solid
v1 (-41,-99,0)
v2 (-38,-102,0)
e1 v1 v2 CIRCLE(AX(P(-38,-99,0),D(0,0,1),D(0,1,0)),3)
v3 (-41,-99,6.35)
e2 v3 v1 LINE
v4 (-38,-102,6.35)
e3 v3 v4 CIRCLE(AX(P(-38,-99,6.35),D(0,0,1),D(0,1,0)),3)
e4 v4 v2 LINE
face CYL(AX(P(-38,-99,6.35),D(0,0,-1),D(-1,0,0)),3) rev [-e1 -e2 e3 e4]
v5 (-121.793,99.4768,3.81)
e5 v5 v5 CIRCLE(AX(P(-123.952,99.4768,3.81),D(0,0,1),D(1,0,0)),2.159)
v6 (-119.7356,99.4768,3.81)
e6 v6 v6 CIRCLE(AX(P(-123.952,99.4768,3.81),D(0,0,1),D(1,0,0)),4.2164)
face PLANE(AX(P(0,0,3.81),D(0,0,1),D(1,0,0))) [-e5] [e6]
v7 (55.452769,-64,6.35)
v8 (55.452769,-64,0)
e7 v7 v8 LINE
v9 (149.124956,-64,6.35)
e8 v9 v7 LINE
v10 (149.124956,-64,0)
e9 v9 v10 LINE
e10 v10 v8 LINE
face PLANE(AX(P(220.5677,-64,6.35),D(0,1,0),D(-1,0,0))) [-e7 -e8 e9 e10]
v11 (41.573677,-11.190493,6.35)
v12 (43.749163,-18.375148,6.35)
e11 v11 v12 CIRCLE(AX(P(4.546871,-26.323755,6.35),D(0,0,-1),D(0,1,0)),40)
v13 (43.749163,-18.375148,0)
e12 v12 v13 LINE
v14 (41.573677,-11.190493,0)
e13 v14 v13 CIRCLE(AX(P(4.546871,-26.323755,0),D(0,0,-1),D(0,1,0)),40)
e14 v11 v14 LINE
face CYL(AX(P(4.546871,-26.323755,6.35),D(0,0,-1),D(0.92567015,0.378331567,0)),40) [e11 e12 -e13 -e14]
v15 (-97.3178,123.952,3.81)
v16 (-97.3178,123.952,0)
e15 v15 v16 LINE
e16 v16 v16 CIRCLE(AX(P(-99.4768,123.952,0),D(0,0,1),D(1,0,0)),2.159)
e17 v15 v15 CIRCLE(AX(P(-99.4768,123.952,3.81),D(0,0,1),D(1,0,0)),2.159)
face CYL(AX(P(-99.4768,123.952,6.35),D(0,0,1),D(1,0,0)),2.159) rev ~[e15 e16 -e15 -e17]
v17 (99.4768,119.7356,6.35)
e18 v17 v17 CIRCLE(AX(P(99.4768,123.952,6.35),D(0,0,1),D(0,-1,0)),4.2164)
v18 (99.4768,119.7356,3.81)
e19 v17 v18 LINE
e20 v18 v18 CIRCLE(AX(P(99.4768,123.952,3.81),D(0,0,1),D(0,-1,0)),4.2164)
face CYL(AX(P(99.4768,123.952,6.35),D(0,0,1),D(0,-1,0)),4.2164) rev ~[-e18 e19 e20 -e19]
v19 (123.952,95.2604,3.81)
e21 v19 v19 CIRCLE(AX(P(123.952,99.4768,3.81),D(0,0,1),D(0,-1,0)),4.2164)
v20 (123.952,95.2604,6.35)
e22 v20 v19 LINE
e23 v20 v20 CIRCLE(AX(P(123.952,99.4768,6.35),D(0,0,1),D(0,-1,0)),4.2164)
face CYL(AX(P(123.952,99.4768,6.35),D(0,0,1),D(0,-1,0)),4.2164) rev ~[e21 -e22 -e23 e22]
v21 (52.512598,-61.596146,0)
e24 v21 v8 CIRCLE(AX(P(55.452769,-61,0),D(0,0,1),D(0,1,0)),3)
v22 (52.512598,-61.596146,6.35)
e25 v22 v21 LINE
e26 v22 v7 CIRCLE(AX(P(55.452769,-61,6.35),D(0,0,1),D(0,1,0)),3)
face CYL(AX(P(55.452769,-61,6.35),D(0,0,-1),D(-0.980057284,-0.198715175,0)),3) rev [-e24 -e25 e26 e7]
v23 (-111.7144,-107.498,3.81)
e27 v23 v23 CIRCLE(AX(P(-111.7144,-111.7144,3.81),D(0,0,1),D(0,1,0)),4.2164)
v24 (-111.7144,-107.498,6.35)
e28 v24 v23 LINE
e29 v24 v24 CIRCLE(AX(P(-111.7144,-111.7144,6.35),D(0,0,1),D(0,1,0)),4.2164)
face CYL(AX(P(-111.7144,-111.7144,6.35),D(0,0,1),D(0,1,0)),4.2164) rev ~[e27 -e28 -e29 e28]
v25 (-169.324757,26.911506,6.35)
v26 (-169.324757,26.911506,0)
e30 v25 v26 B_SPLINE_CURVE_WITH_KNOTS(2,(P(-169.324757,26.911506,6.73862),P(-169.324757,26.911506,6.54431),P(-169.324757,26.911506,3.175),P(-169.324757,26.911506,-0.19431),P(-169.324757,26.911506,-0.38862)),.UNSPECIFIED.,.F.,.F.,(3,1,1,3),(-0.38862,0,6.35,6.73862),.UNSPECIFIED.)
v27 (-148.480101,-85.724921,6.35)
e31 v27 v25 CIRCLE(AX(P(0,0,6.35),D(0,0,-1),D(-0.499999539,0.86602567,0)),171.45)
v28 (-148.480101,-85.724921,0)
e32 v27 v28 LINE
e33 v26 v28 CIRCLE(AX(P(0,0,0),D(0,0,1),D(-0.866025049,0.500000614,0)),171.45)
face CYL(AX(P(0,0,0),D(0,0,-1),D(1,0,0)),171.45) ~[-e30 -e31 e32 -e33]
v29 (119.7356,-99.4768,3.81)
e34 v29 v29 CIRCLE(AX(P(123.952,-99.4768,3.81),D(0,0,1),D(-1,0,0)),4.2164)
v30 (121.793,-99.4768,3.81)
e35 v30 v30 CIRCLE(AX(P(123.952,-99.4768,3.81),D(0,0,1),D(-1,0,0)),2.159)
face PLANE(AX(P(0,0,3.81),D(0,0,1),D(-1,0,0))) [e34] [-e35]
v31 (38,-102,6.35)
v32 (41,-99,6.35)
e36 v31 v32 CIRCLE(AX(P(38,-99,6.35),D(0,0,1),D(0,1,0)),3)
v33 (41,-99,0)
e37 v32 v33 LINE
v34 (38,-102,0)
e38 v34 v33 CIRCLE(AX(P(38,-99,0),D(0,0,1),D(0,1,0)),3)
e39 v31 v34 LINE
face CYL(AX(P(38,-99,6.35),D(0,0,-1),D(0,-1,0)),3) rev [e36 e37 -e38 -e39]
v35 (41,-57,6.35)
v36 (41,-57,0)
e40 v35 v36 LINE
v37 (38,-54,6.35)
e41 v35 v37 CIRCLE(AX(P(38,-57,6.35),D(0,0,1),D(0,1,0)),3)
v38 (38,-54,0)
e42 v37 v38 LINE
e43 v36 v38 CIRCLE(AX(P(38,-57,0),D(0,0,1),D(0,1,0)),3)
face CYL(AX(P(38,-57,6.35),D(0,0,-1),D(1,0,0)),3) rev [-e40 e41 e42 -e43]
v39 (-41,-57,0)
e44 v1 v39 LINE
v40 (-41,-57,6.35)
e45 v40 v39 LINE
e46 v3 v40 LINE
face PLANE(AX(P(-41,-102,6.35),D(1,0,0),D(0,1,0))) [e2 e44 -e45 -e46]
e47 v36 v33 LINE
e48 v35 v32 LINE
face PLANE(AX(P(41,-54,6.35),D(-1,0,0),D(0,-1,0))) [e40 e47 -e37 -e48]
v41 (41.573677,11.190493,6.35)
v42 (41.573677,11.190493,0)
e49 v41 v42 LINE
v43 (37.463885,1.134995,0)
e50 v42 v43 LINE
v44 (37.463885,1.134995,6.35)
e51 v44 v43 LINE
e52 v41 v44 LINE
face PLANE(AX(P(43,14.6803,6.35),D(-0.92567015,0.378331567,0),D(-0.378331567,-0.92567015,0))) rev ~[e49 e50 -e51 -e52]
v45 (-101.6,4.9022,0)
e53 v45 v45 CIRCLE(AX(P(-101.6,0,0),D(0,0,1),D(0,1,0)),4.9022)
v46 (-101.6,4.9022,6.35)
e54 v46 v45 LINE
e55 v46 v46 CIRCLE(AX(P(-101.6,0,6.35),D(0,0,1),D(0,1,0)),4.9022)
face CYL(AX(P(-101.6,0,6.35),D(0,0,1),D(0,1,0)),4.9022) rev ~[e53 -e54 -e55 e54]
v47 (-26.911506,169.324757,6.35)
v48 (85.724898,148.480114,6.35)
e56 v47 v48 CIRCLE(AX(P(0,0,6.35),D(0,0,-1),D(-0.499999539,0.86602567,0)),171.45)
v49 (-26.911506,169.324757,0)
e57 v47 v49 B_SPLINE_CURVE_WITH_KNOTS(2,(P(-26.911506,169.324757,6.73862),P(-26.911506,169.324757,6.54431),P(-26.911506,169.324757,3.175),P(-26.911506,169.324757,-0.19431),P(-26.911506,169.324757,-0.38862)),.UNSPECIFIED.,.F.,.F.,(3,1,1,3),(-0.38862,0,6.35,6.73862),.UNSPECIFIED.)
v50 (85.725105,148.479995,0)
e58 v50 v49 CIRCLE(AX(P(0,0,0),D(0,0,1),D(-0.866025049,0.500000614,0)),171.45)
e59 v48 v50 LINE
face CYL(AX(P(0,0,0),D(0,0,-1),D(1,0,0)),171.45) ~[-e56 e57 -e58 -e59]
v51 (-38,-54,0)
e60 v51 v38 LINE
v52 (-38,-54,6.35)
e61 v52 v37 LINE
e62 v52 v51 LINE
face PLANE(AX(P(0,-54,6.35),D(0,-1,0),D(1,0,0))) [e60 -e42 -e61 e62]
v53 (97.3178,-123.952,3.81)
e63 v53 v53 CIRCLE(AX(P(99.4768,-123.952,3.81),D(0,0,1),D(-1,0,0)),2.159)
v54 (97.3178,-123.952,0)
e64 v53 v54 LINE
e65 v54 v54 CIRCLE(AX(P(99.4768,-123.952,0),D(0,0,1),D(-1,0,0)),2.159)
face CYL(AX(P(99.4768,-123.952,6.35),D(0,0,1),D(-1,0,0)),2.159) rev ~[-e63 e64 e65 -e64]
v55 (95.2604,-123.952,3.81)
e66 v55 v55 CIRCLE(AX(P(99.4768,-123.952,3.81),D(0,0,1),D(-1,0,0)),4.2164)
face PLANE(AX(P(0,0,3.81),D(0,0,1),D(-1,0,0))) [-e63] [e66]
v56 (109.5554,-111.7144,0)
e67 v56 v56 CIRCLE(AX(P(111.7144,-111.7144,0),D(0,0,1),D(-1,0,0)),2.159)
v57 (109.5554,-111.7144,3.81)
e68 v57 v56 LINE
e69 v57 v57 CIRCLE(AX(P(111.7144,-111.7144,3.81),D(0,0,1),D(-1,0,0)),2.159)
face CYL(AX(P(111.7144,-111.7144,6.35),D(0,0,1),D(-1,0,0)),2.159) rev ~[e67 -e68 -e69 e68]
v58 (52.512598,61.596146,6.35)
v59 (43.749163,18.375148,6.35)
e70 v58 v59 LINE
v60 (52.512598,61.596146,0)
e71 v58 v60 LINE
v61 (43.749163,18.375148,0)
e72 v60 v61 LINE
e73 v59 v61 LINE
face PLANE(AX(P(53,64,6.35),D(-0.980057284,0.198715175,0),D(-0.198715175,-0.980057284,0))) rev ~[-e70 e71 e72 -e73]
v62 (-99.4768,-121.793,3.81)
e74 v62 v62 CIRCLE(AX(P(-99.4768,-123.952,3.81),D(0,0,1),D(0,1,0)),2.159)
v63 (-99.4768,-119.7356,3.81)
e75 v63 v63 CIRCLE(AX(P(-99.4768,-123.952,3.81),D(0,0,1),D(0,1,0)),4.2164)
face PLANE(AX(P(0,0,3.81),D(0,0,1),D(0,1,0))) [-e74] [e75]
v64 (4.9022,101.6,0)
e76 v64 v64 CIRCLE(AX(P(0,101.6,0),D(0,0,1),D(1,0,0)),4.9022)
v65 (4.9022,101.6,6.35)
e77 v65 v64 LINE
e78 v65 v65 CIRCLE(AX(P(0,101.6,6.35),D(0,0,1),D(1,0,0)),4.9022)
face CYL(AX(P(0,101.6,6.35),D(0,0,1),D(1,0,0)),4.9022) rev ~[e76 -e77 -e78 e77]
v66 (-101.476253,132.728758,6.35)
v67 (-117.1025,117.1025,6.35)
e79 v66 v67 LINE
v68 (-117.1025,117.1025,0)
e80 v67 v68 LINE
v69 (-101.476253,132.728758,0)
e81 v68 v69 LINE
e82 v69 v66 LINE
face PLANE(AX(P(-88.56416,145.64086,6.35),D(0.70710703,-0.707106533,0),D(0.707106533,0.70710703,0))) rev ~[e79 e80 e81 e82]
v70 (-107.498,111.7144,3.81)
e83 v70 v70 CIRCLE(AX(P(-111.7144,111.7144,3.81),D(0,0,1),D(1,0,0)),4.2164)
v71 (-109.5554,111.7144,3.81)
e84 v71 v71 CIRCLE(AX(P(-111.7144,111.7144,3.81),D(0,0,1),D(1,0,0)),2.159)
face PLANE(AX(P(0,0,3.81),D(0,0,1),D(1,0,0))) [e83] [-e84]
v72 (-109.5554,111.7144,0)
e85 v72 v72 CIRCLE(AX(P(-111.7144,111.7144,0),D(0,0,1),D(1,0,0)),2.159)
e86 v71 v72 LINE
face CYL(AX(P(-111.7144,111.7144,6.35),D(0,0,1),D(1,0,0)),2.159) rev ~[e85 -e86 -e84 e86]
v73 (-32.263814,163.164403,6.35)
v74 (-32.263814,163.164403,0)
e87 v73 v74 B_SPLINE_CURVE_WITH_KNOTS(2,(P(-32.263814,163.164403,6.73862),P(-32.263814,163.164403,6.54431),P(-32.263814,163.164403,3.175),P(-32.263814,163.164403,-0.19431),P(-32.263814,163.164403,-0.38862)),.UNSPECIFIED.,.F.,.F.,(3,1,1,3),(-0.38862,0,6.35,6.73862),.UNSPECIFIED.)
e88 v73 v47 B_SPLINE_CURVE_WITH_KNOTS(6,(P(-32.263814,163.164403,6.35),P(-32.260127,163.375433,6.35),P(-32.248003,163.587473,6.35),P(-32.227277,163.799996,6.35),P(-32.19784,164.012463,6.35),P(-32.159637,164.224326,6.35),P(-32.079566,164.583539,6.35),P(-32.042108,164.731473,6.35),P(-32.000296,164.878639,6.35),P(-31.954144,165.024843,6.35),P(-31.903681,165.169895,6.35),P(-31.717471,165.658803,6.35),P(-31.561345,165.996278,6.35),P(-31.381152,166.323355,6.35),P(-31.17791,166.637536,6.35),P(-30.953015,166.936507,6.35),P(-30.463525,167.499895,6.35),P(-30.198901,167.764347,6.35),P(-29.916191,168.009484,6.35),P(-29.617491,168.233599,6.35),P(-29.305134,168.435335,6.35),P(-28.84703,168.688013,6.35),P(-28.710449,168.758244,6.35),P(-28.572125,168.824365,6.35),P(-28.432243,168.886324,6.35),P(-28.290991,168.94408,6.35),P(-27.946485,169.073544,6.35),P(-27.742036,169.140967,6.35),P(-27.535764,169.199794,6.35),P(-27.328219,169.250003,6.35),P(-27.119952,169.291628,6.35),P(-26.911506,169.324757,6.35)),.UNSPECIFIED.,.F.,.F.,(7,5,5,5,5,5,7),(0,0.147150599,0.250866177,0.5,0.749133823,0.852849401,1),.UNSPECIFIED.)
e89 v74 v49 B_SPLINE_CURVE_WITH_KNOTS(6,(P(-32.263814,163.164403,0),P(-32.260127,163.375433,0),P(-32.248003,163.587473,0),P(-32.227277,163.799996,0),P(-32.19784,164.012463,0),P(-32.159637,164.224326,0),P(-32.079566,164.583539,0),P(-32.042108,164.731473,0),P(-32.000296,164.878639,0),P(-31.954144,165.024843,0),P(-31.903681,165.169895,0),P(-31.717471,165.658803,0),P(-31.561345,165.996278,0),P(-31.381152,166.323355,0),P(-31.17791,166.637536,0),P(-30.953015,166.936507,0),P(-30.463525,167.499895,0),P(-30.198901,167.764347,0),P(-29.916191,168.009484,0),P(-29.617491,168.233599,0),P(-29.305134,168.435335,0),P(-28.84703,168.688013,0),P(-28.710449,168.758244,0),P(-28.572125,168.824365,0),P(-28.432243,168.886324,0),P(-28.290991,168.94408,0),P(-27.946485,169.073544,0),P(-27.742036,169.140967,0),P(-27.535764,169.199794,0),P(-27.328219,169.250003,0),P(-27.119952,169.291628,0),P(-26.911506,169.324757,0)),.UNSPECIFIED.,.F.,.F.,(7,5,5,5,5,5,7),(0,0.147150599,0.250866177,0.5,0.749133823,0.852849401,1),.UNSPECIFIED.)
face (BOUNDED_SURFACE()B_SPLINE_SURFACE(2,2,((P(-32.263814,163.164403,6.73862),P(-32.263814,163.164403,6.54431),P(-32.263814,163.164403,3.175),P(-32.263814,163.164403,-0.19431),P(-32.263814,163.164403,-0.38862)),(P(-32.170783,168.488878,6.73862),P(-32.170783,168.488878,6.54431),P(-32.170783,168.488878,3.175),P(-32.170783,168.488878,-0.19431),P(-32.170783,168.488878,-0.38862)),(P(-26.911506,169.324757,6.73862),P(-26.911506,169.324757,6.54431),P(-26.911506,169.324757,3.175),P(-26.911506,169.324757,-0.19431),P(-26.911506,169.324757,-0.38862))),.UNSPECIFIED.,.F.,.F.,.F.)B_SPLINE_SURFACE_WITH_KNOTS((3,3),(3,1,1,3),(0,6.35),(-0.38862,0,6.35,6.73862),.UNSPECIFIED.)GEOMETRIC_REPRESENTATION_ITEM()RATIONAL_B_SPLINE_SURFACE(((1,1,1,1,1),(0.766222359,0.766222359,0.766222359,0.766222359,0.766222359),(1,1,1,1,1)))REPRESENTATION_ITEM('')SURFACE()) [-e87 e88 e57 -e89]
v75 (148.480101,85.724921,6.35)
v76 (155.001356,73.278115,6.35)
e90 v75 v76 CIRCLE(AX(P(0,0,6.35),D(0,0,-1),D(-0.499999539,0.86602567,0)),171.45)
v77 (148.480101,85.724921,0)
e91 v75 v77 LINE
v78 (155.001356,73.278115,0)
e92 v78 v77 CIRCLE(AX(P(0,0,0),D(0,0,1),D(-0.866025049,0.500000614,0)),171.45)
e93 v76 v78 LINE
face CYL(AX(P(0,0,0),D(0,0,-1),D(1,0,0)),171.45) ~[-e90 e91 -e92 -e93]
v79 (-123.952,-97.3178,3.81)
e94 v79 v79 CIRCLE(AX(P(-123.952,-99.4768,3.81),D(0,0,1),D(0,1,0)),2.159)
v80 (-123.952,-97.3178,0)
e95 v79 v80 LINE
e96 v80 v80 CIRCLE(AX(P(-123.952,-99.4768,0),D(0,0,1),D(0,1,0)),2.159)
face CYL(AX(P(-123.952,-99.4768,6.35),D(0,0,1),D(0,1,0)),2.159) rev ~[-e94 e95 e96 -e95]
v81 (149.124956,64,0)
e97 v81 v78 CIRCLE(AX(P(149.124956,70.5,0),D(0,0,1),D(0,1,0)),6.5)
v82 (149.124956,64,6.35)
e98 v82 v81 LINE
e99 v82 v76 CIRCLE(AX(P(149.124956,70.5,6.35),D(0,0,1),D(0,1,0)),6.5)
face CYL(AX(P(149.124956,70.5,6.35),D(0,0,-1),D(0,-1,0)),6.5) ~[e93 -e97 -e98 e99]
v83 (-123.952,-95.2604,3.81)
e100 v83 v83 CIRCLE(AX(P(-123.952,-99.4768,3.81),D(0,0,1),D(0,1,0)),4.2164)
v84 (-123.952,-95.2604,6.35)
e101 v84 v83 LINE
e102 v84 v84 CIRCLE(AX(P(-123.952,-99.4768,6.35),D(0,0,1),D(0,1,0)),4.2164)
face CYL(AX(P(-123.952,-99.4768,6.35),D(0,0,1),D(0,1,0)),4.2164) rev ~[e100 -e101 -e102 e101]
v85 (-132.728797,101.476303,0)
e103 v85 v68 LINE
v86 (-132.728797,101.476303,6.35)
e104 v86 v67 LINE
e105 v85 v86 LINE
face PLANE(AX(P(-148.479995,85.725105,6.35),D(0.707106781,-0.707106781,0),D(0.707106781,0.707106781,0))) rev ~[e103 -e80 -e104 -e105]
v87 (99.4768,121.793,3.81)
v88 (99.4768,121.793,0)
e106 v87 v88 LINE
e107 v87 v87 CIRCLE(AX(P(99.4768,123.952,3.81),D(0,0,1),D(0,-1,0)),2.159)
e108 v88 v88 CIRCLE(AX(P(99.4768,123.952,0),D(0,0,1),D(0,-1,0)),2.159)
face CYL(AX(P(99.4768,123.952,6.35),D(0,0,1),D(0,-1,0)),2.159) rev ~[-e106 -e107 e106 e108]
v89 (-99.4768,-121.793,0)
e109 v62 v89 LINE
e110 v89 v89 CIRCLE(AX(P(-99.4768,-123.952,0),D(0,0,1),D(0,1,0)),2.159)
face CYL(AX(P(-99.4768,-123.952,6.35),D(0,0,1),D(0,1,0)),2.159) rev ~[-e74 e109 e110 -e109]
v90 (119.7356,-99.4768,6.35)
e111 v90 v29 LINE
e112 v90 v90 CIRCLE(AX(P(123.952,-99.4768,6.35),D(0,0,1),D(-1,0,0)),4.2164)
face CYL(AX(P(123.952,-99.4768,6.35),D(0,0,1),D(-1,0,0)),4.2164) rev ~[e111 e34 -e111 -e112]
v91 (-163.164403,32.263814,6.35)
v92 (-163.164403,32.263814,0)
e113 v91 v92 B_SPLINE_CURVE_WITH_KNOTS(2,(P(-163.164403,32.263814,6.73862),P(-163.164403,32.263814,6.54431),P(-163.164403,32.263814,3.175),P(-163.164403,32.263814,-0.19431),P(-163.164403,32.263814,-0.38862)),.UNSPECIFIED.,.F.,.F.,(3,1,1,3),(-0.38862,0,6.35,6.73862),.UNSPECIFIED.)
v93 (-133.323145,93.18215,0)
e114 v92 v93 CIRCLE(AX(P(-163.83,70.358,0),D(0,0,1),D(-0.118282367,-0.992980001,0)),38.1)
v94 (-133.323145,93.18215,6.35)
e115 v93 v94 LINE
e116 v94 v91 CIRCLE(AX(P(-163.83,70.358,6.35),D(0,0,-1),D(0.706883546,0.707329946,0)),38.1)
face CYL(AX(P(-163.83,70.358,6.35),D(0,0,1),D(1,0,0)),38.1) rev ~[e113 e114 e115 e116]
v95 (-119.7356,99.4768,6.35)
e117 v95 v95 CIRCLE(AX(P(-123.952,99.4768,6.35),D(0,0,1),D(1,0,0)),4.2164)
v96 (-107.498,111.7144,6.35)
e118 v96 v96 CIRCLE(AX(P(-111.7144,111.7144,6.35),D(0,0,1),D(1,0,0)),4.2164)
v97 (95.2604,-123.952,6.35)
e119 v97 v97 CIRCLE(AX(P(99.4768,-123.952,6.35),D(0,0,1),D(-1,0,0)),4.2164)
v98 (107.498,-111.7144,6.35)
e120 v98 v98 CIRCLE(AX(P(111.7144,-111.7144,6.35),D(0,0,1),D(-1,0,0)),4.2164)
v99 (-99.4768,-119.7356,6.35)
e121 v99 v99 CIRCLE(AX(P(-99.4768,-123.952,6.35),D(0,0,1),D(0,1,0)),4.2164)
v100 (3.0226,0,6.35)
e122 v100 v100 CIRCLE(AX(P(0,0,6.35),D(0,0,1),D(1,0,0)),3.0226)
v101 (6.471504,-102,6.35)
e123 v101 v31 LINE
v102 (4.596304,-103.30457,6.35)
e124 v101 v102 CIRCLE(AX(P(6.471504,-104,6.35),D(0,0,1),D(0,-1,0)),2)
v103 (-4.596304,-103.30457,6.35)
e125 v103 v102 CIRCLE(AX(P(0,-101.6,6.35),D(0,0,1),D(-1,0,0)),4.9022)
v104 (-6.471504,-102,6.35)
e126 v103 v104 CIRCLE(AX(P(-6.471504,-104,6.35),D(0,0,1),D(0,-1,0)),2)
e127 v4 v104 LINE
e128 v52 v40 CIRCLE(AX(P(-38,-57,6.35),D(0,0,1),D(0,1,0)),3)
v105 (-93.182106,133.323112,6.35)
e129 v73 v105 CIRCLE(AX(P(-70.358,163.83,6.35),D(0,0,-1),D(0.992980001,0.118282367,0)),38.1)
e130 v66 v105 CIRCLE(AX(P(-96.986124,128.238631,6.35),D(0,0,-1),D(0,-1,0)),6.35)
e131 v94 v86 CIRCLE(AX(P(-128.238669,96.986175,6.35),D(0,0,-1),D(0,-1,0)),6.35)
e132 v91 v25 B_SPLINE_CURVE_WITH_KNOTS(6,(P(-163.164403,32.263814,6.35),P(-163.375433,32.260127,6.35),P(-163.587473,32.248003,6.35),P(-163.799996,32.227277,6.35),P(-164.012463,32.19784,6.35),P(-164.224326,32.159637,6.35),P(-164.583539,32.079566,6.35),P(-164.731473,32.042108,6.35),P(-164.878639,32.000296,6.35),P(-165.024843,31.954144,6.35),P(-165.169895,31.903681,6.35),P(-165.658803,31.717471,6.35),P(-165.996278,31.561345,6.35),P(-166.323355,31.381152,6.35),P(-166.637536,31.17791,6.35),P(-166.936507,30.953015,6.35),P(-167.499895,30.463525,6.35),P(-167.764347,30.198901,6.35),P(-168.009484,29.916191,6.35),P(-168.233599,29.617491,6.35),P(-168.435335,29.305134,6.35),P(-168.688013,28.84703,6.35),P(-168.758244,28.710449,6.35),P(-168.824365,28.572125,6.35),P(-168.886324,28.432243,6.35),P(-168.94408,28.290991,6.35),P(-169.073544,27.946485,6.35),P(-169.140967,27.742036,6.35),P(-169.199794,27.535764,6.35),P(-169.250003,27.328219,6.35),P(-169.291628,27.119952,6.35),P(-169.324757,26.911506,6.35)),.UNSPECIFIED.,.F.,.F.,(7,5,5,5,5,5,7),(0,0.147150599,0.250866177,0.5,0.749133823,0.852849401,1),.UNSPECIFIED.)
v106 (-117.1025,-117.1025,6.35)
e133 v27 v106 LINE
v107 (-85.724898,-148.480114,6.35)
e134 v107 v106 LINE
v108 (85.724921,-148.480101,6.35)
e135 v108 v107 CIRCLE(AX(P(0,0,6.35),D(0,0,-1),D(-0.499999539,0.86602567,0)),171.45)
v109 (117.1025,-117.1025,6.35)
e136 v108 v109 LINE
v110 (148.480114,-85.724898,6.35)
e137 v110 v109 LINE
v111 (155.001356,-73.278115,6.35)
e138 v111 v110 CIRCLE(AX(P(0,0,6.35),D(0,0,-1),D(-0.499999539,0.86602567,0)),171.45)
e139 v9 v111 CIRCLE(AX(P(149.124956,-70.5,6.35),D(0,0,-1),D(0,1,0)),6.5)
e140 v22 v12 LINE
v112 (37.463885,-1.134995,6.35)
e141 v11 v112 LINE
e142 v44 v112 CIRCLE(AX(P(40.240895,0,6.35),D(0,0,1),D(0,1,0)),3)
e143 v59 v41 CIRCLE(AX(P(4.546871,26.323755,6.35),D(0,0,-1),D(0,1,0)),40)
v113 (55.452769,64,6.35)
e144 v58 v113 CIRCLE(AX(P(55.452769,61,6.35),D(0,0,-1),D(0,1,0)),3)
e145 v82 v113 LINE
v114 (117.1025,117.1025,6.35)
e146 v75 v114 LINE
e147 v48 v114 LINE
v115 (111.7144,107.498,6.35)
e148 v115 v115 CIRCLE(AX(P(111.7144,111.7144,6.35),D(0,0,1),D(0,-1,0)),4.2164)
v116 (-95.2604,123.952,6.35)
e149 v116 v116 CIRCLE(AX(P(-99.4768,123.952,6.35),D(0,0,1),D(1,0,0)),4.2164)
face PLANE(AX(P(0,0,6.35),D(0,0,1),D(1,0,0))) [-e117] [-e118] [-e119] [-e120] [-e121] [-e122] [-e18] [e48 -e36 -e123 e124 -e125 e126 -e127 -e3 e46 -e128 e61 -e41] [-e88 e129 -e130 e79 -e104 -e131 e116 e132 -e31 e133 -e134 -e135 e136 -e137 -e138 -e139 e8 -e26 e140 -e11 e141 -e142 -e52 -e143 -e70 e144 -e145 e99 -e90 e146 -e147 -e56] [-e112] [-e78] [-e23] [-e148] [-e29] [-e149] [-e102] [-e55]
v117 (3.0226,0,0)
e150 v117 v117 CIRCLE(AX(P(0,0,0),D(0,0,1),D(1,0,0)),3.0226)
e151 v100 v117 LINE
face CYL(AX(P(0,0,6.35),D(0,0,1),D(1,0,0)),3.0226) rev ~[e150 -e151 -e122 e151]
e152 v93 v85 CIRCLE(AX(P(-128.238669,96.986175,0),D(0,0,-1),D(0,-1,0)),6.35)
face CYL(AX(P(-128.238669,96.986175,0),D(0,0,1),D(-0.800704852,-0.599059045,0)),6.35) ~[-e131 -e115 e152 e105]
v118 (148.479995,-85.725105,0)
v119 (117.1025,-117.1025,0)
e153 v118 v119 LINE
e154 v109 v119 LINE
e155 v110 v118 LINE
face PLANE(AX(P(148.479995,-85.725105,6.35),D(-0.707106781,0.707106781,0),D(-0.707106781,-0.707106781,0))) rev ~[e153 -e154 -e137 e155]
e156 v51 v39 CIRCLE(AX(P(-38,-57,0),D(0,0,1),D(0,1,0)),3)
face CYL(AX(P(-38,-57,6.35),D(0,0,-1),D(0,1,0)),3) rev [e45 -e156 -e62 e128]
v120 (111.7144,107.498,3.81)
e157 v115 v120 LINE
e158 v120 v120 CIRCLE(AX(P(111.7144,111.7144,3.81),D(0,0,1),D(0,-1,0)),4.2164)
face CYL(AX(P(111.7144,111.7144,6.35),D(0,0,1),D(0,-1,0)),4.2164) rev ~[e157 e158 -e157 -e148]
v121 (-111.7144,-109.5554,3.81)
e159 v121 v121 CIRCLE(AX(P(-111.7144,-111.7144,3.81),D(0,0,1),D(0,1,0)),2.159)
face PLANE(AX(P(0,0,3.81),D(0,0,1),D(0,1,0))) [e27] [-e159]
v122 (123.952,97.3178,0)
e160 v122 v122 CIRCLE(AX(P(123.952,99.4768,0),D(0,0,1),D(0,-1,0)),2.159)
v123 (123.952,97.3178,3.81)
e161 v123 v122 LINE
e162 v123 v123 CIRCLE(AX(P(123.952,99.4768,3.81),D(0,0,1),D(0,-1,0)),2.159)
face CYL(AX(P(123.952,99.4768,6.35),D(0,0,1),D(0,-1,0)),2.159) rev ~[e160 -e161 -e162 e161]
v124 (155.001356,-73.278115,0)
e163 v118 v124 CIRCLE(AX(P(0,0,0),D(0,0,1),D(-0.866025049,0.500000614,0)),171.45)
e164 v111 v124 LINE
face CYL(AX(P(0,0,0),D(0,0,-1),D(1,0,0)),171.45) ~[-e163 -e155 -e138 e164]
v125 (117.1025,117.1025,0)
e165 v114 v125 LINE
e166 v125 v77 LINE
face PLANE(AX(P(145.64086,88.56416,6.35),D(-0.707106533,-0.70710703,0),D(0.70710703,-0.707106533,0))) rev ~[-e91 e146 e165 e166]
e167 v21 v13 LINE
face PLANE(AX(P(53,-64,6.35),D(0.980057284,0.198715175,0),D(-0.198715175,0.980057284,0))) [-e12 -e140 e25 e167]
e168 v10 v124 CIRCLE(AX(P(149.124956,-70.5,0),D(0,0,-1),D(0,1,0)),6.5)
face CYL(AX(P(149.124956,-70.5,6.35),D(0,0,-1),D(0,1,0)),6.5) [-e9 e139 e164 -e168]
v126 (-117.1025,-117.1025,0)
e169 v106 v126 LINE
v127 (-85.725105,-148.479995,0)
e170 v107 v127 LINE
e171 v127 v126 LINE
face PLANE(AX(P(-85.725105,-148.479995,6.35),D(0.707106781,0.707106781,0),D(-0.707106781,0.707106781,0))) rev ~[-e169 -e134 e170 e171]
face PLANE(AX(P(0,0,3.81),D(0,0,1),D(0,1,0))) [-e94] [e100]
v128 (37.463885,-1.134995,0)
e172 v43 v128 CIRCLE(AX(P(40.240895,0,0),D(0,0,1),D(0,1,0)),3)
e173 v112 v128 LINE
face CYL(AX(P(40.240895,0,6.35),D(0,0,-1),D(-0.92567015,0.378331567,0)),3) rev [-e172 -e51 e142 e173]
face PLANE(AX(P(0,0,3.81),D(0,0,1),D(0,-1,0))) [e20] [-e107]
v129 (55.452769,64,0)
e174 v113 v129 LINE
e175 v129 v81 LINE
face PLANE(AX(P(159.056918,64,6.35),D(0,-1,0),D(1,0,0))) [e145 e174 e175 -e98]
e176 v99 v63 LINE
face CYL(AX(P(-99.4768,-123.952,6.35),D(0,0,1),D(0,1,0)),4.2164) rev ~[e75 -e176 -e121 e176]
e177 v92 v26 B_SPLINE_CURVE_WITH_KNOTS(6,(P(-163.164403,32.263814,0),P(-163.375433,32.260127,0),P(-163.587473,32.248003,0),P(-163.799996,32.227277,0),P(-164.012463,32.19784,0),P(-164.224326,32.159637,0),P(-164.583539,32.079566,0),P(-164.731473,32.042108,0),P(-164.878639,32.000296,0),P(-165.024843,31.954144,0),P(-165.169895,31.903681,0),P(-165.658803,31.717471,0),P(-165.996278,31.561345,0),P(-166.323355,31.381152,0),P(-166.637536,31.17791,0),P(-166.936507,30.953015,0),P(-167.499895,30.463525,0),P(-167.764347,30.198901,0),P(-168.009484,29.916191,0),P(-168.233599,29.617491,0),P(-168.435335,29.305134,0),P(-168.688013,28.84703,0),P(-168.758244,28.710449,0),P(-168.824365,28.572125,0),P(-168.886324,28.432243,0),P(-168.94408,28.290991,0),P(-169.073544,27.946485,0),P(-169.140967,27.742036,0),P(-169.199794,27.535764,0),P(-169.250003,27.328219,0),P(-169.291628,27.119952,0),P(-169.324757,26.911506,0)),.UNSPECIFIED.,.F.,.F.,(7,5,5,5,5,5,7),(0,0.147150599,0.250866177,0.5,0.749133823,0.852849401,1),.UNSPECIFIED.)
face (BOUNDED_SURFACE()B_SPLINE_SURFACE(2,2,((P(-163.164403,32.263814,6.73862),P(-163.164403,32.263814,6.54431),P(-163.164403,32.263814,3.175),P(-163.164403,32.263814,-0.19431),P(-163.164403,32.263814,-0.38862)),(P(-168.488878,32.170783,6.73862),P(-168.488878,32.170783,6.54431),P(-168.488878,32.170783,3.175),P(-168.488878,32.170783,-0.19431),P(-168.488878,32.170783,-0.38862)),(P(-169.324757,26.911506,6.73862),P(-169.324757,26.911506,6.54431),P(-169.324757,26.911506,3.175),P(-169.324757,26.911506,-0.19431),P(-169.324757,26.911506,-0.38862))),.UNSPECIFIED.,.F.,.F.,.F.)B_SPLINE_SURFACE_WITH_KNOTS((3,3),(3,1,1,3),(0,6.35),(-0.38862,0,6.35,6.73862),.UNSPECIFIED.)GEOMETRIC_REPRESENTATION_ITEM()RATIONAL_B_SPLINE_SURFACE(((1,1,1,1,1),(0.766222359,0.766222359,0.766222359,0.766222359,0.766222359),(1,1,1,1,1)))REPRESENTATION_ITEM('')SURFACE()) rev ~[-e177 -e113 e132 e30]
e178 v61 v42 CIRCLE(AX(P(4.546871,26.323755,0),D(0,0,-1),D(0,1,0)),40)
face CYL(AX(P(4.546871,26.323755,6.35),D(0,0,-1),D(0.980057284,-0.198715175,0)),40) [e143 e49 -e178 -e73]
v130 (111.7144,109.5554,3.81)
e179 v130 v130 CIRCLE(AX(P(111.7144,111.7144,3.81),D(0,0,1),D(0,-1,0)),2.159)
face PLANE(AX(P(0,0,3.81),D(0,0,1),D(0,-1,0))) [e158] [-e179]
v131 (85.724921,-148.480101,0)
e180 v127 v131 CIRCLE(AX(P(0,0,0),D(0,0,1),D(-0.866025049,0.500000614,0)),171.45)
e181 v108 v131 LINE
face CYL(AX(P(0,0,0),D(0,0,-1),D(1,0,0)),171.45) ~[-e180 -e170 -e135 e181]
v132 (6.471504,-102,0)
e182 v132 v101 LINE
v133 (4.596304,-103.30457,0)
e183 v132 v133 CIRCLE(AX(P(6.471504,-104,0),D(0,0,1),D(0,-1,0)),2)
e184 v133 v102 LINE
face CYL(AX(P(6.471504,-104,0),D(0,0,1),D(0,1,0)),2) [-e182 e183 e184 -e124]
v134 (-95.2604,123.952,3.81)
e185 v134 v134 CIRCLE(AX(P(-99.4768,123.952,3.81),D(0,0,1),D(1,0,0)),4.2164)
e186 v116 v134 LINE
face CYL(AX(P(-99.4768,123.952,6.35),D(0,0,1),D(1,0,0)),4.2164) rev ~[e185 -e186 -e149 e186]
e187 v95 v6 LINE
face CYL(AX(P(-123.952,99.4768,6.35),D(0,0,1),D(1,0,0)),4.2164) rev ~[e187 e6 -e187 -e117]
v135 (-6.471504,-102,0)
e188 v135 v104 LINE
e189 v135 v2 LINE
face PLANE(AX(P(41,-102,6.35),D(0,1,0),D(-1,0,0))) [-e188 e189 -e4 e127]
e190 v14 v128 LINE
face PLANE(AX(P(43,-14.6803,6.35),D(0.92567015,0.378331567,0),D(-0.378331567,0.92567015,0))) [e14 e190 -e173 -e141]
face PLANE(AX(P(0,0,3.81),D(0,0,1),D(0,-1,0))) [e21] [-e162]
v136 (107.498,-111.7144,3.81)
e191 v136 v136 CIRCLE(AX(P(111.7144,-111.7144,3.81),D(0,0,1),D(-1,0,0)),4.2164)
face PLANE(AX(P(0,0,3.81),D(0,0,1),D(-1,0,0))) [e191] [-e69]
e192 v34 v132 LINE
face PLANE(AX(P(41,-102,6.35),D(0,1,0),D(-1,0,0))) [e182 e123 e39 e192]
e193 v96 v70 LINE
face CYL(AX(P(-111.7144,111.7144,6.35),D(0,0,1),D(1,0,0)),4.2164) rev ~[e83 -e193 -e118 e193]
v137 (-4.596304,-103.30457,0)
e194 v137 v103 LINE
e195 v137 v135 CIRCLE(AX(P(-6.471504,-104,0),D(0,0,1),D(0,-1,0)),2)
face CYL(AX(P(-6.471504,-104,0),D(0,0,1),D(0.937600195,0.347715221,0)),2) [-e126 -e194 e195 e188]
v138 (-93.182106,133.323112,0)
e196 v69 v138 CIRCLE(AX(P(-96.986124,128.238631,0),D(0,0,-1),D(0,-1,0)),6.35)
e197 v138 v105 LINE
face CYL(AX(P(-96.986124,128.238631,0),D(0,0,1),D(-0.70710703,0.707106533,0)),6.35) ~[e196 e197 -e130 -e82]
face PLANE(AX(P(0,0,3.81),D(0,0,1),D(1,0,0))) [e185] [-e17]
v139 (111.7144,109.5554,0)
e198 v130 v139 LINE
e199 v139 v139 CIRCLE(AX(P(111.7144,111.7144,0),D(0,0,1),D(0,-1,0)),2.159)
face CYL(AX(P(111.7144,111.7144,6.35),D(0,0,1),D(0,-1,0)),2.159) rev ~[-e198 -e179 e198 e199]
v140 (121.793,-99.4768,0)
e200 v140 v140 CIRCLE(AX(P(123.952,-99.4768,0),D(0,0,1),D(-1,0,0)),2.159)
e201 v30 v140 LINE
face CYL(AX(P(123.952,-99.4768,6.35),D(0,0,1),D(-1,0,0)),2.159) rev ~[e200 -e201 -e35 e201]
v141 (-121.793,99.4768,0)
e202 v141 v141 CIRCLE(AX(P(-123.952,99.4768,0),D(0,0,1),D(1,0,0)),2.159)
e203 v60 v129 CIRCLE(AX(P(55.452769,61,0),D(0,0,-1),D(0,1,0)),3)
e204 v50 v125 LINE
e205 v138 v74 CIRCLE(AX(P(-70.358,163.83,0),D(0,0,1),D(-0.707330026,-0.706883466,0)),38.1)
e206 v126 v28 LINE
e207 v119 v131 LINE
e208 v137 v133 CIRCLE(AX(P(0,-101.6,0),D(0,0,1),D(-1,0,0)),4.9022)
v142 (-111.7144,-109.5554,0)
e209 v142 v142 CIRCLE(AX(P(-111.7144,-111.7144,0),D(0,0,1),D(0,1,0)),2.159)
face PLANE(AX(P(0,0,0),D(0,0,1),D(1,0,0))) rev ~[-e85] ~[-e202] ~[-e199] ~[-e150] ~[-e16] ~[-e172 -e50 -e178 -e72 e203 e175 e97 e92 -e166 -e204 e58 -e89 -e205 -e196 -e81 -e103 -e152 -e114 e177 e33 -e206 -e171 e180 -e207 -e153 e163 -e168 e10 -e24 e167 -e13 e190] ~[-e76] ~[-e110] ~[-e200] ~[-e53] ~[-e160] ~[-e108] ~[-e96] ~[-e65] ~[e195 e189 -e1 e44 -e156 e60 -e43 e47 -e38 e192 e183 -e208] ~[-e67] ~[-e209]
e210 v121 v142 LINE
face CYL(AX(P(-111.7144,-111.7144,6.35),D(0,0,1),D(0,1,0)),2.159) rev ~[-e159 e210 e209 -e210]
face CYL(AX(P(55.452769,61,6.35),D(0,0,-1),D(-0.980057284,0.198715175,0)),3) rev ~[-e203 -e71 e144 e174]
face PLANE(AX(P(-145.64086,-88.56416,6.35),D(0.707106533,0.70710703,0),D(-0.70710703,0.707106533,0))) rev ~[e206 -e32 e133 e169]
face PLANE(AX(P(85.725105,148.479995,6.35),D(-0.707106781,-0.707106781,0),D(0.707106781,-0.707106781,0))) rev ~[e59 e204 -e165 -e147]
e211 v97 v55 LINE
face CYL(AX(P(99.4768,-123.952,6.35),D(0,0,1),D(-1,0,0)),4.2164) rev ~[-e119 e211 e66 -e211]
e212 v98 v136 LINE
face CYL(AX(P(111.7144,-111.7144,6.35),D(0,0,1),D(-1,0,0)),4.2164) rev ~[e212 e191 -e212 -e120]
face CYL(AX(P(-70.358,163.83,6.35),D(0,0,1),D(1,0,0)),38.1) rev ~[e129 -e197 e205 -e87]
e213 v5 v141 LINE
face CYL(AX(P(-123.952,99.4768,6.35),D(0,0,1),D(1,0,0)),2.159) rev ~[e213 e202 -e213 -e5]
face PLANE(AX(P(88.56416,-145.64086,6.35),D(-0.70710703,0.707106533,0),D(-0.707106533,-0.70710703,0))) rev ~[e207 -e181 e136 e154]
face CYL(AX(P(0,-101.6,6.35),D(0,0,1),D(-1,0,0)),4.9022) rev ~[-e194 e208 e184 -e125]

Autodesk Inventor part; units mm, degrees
ref_plane "YZ Plane" through (0, 0, 0) normal (1, 0, 0) x (0, 1, 0)
ref_plane "XZ Plane" through (0, 0, 0) normal (0, 1, 0) x (-1, 0, 0)
ref_plane "XY Plane" through (0, 0, 0) normal (0, 0, 1) x (1, 0, 0)
sketch "Sketch1" plane through (0, 0, 0) normal (0, 0, 1) x (1, 0, 0)
  circle A0 centre (0, 0) radius 171.45
  dimension "d0" = 342.9
extrude "Extrusion1" add sketch "Sketch1" along normal blind 6.35
sketch "Sketch2" plane through (0, 0, 6.35) normal (0, 0, 1) x (1, 0, 0)
  circle A0 centre (0, 0) radius 171.45 projected
  line L0 (197.6462, 0) -> (-281.2915, 0)
  line L1 (0, -189.9673) -> (0, 254.2486)
  line L2 (0, 0) -> (-224.0806, 224.0806)
  line L3 (-117.1025, 117.1025) -> (25.0798, 259.2849)
  line L4 (25.0798, 259.2849) -> (-193.4238, 635.0058)
  line L5 (-193.4238, 635.0058) -> (-427.1769, 145.6409)
  line L6 (-427.1769, 145.6409) -> (-369.1953, -134.9902)
  line L7 (-369.1953, -134.9902) -> (-88.5642, 145.6409)
  dimension "d3" = 45
  dimension "d4" = 165.608
extrude "Extrusion2" cut sketch "Sketch2" against normal blind 40 contours L3 L2 A0 | A0 L7 L6 L5 L4 L3 | L7 A0 L2
pattern_circular "Circular Pattern1" count 4 over 360 about axis through (0, 0, -10) along (0, 0, 1) of "Extrusion2"
sketch "Sketch3" plane through (0, 0, 6.35) normal (0, 0, 1) x (1, 0, 0)
  arc A0 (148.48, -85.7251) -> (148.48, 85.7251) centre (0, 0) ccw projected
  circle A1 centre (0, 0) radius 3.0226
  dimension "d10" = 6.0452
extrude "Extrusion3" cut sketch "Sketch3" against normal blind 40
sketch "Sketch4" plane through (0, 0, 6.35) normal (0, 0, 1) x (1, 0, 0)
  circle A0 centre (0, 0) radius 3.0226 projected
  circle A1 centre (-163.83, 70.358) radius 38.1
  circle A2 centre (-70.358, 163.83) radius 38.1
  dimension "d13" = 76.2
  dimension "d14" = 76.2
  dimension "d15" = 70.358
  dimension "d16" = 70.358
  dimension "d17" = 163.83
  dimension "d18" = 163.83
extrude "Extrusion4" cut sketch "Sketch4" against normal blind 40 contours A1 | A2
fillet "Fillet1" radius 6.35 1 edges at (-136.8978, 97.3073, 3.175)
fillet "Fillet2" radius 6.35 1 edges at (-168.3366, 32.5255, 3.175)
fillet "Fillet3" radius 6.35 1 edges at (-97.3073, 136.8978, 3.175)
fillet "Fillet4" radius 6.35 1 edges at (-32.5255, 168.3366, 3.175)
sketch "Sketch5" plane through (0, 0, 6.35) normal (0, 0, 1) x (1, 0, 0)
  arc A0 (-169.3248, 26.9115) -> (-148.48, -85.7251) centre (0, 0) ccw projected
  circle A1 centre (0, 101.6) radius 4.9022
  dimension "d25" = 9.8044
  dimension "d26" = 101.6
extrude "Extrusion5" cut sketch "Sketch5" against normal blind 40
pattern_circular "Circular Pattern2" count 4 over 360 about axis through (0, 0, -10) along (0, 0, 1) of "Extrusion5"
sketch "Sketch6" plane through (0, 0, 6.35) normal (0, 0, 1) x (1, 0, 0)
  arc A0 (-169.3248, 26.9115) -> (-148.48, -85.7251) centre (0, 0) ccw projected
  circle A1 centre (0, 0) radius 3.0226 projected
  circle A2 centre (-99.4768, 123.952) radius 2.159
  line L0 (0, 0) -> (-213.9537, 213.9537)
  circle A3 centre (0, 0) radius 3.0226 projected
  line L1 (0, 0) -> (0, 193.7824)
  line L2 (-75.5206, 147.9082) -> (-146.0285, 77.4003)
  circle A4 centre (-111.7144, 111.7144) radius 2.159
  circle A5 centre (-123.952, 99.4768) radius 2.159
  line L3 (0, 0) -> (-99.4768, 123.952)
  line L4 (0, 0) -> (-123.952, 99.4768)
  dimension "d32" = 4.318
  dimension "d33" = 45
  dimension "d34" = 157.988
  dimension "d35" = 0
  dimension "d36" = 4.318
  dimension "d37" = 4.318
  dimension "d49" = 123.952
extrude "Extrusion6" cut sketch "Sketch6" against normal blind 40 contours L4 L2 A5 | A5 L2 L4 | L3 L2 A2 | A2 L2 L3 | A4 L2 L0 | L0 L2 A4 | A5 L2 | A2 L2 | L2 A4 L0 | L0 A4 L2
sketch "Sketch7" plane through (0, 0, 6.35) normal (0, 0, 1) x (1, 0, 0)
  circle A0 centre (-111.7144, 111.7144) radius 2.159 projected
  circle A1 centre (-99.4768, 123.952) radius 2.159 projected
  circle A2 centre (-123.952, 99.4768) radius 2.159 projected
  circle A3 centre (-99.4768, 123.952) radius 4.2164
  circle A4 centre (-111.7144, 111.7144) radius 4.2164
  circle A5 centre (-123.952, 99.4768) radius 4.2164
  dimension "d41" = 8.4328
  dimension "d42" = 8.4328
  dimension "d43" = 8.4328
extrude "Extrusion7" cut sketch "Sketch7" against normal blind 2.54
pattern_circular "Circular Pattern3" count 4 over 360 about axis through (0, 0, -10) along (0, 0, 1) of "Extrusion6", "Extrusion7"
sketch "Sketch13" plane through (0, 0, 6.35) normal (0, 0, 1) x (1, 0, 0)
  circle A0 centre (101.6, 0) radius 4.9022 projected
  circle A1 centre (0, 0) radius 3.0226 projected
  line L0 (220.5677, -64) -> (53, -64)
  line L1 (53, -64) -> (53, 64)
  line L2 (53, 64) -> (220.5677, 64)
  line L3 (220.5677, 64) -> (220.5677, -64)
  line L4 (0, 0) -> (36.6997, 0) construction
  line L5 (0, 0) -> (0, -29.3606) construction
  line L6 (53, 64) -> (43, 14.6803)
  line L7 (43, 14.6803) -> (37, 0)
  line L8 (53, -64) -> (43, -14.6803)
  line L9 (43, -14.6803) -> (37, 0)
  arc A2 (148.48, -85.7251) -> (148.48, 85.7251) centre (0, 0) ccw projected
  dimension "d81" = 128
  dimension "d87" = 10
  dimension "d88" = 16
  dimension "d89" = 37
extrude "Extrusion11" cut sketch "Sketch13" against normal through all contours L0 A2 L2 L3 | L0 L1 L2 A2 | L8 L9 L7 L6 L1
fillet "Fillet7" radius 40 2 edges at (43, 14.6803, 3.175) (43, -14.6803, 3.175)
fillet "Fillet8" radius 3 2 edges at (53, -64, 3.175) (53, 64, 3.175)
sketch "Sketch14" plane through (0, 0, 6.35) normal (0, 0, 1) x (1, 0, 0)
  arc A0 (159.0569, 64) -> (148.48, 85.7251) centre (0, 0) ccw projected
  circle A1 centre (0, 0) radius 3.0226 projected
  line L0 (41, -102) -> (-41, -102)
  line L1 (-41, -102) -> (-41, -54)
  line L2 (-41, -54) -> (41, -54)
  line L3 (41, -54) -> (41, -102)
  line L4 (0, 0) -> (0, -193.6891)
  dimension "d90" = 82
  dimension "d91" = 48
  dimension "d92" = 54
extrude "Extrusion12" cut sketch "Sketch14" against normal blind 20 contours L2 L3 L0 L4 | L4 L0 L1 L2
fillet "Fillet9" radius 3 1 edges at (37, 0, 3.175)
fillet "Fillet10" radius 3 4 edges at (-41, -54, 3.175) (41, -54, 3.175) (41, -102, 3.175) (-41, -102, 3.175)
fillet "Fillet11" radius 2 2 edges at (4.8859, -102, 3.175) (-4.8859, -102, 3.175)
fillet "Fillet12" radius 6.5 2 edges at (159.0569, -64, 3.175) (159.0569, 64, 3.175)
properties part number "Deck"
